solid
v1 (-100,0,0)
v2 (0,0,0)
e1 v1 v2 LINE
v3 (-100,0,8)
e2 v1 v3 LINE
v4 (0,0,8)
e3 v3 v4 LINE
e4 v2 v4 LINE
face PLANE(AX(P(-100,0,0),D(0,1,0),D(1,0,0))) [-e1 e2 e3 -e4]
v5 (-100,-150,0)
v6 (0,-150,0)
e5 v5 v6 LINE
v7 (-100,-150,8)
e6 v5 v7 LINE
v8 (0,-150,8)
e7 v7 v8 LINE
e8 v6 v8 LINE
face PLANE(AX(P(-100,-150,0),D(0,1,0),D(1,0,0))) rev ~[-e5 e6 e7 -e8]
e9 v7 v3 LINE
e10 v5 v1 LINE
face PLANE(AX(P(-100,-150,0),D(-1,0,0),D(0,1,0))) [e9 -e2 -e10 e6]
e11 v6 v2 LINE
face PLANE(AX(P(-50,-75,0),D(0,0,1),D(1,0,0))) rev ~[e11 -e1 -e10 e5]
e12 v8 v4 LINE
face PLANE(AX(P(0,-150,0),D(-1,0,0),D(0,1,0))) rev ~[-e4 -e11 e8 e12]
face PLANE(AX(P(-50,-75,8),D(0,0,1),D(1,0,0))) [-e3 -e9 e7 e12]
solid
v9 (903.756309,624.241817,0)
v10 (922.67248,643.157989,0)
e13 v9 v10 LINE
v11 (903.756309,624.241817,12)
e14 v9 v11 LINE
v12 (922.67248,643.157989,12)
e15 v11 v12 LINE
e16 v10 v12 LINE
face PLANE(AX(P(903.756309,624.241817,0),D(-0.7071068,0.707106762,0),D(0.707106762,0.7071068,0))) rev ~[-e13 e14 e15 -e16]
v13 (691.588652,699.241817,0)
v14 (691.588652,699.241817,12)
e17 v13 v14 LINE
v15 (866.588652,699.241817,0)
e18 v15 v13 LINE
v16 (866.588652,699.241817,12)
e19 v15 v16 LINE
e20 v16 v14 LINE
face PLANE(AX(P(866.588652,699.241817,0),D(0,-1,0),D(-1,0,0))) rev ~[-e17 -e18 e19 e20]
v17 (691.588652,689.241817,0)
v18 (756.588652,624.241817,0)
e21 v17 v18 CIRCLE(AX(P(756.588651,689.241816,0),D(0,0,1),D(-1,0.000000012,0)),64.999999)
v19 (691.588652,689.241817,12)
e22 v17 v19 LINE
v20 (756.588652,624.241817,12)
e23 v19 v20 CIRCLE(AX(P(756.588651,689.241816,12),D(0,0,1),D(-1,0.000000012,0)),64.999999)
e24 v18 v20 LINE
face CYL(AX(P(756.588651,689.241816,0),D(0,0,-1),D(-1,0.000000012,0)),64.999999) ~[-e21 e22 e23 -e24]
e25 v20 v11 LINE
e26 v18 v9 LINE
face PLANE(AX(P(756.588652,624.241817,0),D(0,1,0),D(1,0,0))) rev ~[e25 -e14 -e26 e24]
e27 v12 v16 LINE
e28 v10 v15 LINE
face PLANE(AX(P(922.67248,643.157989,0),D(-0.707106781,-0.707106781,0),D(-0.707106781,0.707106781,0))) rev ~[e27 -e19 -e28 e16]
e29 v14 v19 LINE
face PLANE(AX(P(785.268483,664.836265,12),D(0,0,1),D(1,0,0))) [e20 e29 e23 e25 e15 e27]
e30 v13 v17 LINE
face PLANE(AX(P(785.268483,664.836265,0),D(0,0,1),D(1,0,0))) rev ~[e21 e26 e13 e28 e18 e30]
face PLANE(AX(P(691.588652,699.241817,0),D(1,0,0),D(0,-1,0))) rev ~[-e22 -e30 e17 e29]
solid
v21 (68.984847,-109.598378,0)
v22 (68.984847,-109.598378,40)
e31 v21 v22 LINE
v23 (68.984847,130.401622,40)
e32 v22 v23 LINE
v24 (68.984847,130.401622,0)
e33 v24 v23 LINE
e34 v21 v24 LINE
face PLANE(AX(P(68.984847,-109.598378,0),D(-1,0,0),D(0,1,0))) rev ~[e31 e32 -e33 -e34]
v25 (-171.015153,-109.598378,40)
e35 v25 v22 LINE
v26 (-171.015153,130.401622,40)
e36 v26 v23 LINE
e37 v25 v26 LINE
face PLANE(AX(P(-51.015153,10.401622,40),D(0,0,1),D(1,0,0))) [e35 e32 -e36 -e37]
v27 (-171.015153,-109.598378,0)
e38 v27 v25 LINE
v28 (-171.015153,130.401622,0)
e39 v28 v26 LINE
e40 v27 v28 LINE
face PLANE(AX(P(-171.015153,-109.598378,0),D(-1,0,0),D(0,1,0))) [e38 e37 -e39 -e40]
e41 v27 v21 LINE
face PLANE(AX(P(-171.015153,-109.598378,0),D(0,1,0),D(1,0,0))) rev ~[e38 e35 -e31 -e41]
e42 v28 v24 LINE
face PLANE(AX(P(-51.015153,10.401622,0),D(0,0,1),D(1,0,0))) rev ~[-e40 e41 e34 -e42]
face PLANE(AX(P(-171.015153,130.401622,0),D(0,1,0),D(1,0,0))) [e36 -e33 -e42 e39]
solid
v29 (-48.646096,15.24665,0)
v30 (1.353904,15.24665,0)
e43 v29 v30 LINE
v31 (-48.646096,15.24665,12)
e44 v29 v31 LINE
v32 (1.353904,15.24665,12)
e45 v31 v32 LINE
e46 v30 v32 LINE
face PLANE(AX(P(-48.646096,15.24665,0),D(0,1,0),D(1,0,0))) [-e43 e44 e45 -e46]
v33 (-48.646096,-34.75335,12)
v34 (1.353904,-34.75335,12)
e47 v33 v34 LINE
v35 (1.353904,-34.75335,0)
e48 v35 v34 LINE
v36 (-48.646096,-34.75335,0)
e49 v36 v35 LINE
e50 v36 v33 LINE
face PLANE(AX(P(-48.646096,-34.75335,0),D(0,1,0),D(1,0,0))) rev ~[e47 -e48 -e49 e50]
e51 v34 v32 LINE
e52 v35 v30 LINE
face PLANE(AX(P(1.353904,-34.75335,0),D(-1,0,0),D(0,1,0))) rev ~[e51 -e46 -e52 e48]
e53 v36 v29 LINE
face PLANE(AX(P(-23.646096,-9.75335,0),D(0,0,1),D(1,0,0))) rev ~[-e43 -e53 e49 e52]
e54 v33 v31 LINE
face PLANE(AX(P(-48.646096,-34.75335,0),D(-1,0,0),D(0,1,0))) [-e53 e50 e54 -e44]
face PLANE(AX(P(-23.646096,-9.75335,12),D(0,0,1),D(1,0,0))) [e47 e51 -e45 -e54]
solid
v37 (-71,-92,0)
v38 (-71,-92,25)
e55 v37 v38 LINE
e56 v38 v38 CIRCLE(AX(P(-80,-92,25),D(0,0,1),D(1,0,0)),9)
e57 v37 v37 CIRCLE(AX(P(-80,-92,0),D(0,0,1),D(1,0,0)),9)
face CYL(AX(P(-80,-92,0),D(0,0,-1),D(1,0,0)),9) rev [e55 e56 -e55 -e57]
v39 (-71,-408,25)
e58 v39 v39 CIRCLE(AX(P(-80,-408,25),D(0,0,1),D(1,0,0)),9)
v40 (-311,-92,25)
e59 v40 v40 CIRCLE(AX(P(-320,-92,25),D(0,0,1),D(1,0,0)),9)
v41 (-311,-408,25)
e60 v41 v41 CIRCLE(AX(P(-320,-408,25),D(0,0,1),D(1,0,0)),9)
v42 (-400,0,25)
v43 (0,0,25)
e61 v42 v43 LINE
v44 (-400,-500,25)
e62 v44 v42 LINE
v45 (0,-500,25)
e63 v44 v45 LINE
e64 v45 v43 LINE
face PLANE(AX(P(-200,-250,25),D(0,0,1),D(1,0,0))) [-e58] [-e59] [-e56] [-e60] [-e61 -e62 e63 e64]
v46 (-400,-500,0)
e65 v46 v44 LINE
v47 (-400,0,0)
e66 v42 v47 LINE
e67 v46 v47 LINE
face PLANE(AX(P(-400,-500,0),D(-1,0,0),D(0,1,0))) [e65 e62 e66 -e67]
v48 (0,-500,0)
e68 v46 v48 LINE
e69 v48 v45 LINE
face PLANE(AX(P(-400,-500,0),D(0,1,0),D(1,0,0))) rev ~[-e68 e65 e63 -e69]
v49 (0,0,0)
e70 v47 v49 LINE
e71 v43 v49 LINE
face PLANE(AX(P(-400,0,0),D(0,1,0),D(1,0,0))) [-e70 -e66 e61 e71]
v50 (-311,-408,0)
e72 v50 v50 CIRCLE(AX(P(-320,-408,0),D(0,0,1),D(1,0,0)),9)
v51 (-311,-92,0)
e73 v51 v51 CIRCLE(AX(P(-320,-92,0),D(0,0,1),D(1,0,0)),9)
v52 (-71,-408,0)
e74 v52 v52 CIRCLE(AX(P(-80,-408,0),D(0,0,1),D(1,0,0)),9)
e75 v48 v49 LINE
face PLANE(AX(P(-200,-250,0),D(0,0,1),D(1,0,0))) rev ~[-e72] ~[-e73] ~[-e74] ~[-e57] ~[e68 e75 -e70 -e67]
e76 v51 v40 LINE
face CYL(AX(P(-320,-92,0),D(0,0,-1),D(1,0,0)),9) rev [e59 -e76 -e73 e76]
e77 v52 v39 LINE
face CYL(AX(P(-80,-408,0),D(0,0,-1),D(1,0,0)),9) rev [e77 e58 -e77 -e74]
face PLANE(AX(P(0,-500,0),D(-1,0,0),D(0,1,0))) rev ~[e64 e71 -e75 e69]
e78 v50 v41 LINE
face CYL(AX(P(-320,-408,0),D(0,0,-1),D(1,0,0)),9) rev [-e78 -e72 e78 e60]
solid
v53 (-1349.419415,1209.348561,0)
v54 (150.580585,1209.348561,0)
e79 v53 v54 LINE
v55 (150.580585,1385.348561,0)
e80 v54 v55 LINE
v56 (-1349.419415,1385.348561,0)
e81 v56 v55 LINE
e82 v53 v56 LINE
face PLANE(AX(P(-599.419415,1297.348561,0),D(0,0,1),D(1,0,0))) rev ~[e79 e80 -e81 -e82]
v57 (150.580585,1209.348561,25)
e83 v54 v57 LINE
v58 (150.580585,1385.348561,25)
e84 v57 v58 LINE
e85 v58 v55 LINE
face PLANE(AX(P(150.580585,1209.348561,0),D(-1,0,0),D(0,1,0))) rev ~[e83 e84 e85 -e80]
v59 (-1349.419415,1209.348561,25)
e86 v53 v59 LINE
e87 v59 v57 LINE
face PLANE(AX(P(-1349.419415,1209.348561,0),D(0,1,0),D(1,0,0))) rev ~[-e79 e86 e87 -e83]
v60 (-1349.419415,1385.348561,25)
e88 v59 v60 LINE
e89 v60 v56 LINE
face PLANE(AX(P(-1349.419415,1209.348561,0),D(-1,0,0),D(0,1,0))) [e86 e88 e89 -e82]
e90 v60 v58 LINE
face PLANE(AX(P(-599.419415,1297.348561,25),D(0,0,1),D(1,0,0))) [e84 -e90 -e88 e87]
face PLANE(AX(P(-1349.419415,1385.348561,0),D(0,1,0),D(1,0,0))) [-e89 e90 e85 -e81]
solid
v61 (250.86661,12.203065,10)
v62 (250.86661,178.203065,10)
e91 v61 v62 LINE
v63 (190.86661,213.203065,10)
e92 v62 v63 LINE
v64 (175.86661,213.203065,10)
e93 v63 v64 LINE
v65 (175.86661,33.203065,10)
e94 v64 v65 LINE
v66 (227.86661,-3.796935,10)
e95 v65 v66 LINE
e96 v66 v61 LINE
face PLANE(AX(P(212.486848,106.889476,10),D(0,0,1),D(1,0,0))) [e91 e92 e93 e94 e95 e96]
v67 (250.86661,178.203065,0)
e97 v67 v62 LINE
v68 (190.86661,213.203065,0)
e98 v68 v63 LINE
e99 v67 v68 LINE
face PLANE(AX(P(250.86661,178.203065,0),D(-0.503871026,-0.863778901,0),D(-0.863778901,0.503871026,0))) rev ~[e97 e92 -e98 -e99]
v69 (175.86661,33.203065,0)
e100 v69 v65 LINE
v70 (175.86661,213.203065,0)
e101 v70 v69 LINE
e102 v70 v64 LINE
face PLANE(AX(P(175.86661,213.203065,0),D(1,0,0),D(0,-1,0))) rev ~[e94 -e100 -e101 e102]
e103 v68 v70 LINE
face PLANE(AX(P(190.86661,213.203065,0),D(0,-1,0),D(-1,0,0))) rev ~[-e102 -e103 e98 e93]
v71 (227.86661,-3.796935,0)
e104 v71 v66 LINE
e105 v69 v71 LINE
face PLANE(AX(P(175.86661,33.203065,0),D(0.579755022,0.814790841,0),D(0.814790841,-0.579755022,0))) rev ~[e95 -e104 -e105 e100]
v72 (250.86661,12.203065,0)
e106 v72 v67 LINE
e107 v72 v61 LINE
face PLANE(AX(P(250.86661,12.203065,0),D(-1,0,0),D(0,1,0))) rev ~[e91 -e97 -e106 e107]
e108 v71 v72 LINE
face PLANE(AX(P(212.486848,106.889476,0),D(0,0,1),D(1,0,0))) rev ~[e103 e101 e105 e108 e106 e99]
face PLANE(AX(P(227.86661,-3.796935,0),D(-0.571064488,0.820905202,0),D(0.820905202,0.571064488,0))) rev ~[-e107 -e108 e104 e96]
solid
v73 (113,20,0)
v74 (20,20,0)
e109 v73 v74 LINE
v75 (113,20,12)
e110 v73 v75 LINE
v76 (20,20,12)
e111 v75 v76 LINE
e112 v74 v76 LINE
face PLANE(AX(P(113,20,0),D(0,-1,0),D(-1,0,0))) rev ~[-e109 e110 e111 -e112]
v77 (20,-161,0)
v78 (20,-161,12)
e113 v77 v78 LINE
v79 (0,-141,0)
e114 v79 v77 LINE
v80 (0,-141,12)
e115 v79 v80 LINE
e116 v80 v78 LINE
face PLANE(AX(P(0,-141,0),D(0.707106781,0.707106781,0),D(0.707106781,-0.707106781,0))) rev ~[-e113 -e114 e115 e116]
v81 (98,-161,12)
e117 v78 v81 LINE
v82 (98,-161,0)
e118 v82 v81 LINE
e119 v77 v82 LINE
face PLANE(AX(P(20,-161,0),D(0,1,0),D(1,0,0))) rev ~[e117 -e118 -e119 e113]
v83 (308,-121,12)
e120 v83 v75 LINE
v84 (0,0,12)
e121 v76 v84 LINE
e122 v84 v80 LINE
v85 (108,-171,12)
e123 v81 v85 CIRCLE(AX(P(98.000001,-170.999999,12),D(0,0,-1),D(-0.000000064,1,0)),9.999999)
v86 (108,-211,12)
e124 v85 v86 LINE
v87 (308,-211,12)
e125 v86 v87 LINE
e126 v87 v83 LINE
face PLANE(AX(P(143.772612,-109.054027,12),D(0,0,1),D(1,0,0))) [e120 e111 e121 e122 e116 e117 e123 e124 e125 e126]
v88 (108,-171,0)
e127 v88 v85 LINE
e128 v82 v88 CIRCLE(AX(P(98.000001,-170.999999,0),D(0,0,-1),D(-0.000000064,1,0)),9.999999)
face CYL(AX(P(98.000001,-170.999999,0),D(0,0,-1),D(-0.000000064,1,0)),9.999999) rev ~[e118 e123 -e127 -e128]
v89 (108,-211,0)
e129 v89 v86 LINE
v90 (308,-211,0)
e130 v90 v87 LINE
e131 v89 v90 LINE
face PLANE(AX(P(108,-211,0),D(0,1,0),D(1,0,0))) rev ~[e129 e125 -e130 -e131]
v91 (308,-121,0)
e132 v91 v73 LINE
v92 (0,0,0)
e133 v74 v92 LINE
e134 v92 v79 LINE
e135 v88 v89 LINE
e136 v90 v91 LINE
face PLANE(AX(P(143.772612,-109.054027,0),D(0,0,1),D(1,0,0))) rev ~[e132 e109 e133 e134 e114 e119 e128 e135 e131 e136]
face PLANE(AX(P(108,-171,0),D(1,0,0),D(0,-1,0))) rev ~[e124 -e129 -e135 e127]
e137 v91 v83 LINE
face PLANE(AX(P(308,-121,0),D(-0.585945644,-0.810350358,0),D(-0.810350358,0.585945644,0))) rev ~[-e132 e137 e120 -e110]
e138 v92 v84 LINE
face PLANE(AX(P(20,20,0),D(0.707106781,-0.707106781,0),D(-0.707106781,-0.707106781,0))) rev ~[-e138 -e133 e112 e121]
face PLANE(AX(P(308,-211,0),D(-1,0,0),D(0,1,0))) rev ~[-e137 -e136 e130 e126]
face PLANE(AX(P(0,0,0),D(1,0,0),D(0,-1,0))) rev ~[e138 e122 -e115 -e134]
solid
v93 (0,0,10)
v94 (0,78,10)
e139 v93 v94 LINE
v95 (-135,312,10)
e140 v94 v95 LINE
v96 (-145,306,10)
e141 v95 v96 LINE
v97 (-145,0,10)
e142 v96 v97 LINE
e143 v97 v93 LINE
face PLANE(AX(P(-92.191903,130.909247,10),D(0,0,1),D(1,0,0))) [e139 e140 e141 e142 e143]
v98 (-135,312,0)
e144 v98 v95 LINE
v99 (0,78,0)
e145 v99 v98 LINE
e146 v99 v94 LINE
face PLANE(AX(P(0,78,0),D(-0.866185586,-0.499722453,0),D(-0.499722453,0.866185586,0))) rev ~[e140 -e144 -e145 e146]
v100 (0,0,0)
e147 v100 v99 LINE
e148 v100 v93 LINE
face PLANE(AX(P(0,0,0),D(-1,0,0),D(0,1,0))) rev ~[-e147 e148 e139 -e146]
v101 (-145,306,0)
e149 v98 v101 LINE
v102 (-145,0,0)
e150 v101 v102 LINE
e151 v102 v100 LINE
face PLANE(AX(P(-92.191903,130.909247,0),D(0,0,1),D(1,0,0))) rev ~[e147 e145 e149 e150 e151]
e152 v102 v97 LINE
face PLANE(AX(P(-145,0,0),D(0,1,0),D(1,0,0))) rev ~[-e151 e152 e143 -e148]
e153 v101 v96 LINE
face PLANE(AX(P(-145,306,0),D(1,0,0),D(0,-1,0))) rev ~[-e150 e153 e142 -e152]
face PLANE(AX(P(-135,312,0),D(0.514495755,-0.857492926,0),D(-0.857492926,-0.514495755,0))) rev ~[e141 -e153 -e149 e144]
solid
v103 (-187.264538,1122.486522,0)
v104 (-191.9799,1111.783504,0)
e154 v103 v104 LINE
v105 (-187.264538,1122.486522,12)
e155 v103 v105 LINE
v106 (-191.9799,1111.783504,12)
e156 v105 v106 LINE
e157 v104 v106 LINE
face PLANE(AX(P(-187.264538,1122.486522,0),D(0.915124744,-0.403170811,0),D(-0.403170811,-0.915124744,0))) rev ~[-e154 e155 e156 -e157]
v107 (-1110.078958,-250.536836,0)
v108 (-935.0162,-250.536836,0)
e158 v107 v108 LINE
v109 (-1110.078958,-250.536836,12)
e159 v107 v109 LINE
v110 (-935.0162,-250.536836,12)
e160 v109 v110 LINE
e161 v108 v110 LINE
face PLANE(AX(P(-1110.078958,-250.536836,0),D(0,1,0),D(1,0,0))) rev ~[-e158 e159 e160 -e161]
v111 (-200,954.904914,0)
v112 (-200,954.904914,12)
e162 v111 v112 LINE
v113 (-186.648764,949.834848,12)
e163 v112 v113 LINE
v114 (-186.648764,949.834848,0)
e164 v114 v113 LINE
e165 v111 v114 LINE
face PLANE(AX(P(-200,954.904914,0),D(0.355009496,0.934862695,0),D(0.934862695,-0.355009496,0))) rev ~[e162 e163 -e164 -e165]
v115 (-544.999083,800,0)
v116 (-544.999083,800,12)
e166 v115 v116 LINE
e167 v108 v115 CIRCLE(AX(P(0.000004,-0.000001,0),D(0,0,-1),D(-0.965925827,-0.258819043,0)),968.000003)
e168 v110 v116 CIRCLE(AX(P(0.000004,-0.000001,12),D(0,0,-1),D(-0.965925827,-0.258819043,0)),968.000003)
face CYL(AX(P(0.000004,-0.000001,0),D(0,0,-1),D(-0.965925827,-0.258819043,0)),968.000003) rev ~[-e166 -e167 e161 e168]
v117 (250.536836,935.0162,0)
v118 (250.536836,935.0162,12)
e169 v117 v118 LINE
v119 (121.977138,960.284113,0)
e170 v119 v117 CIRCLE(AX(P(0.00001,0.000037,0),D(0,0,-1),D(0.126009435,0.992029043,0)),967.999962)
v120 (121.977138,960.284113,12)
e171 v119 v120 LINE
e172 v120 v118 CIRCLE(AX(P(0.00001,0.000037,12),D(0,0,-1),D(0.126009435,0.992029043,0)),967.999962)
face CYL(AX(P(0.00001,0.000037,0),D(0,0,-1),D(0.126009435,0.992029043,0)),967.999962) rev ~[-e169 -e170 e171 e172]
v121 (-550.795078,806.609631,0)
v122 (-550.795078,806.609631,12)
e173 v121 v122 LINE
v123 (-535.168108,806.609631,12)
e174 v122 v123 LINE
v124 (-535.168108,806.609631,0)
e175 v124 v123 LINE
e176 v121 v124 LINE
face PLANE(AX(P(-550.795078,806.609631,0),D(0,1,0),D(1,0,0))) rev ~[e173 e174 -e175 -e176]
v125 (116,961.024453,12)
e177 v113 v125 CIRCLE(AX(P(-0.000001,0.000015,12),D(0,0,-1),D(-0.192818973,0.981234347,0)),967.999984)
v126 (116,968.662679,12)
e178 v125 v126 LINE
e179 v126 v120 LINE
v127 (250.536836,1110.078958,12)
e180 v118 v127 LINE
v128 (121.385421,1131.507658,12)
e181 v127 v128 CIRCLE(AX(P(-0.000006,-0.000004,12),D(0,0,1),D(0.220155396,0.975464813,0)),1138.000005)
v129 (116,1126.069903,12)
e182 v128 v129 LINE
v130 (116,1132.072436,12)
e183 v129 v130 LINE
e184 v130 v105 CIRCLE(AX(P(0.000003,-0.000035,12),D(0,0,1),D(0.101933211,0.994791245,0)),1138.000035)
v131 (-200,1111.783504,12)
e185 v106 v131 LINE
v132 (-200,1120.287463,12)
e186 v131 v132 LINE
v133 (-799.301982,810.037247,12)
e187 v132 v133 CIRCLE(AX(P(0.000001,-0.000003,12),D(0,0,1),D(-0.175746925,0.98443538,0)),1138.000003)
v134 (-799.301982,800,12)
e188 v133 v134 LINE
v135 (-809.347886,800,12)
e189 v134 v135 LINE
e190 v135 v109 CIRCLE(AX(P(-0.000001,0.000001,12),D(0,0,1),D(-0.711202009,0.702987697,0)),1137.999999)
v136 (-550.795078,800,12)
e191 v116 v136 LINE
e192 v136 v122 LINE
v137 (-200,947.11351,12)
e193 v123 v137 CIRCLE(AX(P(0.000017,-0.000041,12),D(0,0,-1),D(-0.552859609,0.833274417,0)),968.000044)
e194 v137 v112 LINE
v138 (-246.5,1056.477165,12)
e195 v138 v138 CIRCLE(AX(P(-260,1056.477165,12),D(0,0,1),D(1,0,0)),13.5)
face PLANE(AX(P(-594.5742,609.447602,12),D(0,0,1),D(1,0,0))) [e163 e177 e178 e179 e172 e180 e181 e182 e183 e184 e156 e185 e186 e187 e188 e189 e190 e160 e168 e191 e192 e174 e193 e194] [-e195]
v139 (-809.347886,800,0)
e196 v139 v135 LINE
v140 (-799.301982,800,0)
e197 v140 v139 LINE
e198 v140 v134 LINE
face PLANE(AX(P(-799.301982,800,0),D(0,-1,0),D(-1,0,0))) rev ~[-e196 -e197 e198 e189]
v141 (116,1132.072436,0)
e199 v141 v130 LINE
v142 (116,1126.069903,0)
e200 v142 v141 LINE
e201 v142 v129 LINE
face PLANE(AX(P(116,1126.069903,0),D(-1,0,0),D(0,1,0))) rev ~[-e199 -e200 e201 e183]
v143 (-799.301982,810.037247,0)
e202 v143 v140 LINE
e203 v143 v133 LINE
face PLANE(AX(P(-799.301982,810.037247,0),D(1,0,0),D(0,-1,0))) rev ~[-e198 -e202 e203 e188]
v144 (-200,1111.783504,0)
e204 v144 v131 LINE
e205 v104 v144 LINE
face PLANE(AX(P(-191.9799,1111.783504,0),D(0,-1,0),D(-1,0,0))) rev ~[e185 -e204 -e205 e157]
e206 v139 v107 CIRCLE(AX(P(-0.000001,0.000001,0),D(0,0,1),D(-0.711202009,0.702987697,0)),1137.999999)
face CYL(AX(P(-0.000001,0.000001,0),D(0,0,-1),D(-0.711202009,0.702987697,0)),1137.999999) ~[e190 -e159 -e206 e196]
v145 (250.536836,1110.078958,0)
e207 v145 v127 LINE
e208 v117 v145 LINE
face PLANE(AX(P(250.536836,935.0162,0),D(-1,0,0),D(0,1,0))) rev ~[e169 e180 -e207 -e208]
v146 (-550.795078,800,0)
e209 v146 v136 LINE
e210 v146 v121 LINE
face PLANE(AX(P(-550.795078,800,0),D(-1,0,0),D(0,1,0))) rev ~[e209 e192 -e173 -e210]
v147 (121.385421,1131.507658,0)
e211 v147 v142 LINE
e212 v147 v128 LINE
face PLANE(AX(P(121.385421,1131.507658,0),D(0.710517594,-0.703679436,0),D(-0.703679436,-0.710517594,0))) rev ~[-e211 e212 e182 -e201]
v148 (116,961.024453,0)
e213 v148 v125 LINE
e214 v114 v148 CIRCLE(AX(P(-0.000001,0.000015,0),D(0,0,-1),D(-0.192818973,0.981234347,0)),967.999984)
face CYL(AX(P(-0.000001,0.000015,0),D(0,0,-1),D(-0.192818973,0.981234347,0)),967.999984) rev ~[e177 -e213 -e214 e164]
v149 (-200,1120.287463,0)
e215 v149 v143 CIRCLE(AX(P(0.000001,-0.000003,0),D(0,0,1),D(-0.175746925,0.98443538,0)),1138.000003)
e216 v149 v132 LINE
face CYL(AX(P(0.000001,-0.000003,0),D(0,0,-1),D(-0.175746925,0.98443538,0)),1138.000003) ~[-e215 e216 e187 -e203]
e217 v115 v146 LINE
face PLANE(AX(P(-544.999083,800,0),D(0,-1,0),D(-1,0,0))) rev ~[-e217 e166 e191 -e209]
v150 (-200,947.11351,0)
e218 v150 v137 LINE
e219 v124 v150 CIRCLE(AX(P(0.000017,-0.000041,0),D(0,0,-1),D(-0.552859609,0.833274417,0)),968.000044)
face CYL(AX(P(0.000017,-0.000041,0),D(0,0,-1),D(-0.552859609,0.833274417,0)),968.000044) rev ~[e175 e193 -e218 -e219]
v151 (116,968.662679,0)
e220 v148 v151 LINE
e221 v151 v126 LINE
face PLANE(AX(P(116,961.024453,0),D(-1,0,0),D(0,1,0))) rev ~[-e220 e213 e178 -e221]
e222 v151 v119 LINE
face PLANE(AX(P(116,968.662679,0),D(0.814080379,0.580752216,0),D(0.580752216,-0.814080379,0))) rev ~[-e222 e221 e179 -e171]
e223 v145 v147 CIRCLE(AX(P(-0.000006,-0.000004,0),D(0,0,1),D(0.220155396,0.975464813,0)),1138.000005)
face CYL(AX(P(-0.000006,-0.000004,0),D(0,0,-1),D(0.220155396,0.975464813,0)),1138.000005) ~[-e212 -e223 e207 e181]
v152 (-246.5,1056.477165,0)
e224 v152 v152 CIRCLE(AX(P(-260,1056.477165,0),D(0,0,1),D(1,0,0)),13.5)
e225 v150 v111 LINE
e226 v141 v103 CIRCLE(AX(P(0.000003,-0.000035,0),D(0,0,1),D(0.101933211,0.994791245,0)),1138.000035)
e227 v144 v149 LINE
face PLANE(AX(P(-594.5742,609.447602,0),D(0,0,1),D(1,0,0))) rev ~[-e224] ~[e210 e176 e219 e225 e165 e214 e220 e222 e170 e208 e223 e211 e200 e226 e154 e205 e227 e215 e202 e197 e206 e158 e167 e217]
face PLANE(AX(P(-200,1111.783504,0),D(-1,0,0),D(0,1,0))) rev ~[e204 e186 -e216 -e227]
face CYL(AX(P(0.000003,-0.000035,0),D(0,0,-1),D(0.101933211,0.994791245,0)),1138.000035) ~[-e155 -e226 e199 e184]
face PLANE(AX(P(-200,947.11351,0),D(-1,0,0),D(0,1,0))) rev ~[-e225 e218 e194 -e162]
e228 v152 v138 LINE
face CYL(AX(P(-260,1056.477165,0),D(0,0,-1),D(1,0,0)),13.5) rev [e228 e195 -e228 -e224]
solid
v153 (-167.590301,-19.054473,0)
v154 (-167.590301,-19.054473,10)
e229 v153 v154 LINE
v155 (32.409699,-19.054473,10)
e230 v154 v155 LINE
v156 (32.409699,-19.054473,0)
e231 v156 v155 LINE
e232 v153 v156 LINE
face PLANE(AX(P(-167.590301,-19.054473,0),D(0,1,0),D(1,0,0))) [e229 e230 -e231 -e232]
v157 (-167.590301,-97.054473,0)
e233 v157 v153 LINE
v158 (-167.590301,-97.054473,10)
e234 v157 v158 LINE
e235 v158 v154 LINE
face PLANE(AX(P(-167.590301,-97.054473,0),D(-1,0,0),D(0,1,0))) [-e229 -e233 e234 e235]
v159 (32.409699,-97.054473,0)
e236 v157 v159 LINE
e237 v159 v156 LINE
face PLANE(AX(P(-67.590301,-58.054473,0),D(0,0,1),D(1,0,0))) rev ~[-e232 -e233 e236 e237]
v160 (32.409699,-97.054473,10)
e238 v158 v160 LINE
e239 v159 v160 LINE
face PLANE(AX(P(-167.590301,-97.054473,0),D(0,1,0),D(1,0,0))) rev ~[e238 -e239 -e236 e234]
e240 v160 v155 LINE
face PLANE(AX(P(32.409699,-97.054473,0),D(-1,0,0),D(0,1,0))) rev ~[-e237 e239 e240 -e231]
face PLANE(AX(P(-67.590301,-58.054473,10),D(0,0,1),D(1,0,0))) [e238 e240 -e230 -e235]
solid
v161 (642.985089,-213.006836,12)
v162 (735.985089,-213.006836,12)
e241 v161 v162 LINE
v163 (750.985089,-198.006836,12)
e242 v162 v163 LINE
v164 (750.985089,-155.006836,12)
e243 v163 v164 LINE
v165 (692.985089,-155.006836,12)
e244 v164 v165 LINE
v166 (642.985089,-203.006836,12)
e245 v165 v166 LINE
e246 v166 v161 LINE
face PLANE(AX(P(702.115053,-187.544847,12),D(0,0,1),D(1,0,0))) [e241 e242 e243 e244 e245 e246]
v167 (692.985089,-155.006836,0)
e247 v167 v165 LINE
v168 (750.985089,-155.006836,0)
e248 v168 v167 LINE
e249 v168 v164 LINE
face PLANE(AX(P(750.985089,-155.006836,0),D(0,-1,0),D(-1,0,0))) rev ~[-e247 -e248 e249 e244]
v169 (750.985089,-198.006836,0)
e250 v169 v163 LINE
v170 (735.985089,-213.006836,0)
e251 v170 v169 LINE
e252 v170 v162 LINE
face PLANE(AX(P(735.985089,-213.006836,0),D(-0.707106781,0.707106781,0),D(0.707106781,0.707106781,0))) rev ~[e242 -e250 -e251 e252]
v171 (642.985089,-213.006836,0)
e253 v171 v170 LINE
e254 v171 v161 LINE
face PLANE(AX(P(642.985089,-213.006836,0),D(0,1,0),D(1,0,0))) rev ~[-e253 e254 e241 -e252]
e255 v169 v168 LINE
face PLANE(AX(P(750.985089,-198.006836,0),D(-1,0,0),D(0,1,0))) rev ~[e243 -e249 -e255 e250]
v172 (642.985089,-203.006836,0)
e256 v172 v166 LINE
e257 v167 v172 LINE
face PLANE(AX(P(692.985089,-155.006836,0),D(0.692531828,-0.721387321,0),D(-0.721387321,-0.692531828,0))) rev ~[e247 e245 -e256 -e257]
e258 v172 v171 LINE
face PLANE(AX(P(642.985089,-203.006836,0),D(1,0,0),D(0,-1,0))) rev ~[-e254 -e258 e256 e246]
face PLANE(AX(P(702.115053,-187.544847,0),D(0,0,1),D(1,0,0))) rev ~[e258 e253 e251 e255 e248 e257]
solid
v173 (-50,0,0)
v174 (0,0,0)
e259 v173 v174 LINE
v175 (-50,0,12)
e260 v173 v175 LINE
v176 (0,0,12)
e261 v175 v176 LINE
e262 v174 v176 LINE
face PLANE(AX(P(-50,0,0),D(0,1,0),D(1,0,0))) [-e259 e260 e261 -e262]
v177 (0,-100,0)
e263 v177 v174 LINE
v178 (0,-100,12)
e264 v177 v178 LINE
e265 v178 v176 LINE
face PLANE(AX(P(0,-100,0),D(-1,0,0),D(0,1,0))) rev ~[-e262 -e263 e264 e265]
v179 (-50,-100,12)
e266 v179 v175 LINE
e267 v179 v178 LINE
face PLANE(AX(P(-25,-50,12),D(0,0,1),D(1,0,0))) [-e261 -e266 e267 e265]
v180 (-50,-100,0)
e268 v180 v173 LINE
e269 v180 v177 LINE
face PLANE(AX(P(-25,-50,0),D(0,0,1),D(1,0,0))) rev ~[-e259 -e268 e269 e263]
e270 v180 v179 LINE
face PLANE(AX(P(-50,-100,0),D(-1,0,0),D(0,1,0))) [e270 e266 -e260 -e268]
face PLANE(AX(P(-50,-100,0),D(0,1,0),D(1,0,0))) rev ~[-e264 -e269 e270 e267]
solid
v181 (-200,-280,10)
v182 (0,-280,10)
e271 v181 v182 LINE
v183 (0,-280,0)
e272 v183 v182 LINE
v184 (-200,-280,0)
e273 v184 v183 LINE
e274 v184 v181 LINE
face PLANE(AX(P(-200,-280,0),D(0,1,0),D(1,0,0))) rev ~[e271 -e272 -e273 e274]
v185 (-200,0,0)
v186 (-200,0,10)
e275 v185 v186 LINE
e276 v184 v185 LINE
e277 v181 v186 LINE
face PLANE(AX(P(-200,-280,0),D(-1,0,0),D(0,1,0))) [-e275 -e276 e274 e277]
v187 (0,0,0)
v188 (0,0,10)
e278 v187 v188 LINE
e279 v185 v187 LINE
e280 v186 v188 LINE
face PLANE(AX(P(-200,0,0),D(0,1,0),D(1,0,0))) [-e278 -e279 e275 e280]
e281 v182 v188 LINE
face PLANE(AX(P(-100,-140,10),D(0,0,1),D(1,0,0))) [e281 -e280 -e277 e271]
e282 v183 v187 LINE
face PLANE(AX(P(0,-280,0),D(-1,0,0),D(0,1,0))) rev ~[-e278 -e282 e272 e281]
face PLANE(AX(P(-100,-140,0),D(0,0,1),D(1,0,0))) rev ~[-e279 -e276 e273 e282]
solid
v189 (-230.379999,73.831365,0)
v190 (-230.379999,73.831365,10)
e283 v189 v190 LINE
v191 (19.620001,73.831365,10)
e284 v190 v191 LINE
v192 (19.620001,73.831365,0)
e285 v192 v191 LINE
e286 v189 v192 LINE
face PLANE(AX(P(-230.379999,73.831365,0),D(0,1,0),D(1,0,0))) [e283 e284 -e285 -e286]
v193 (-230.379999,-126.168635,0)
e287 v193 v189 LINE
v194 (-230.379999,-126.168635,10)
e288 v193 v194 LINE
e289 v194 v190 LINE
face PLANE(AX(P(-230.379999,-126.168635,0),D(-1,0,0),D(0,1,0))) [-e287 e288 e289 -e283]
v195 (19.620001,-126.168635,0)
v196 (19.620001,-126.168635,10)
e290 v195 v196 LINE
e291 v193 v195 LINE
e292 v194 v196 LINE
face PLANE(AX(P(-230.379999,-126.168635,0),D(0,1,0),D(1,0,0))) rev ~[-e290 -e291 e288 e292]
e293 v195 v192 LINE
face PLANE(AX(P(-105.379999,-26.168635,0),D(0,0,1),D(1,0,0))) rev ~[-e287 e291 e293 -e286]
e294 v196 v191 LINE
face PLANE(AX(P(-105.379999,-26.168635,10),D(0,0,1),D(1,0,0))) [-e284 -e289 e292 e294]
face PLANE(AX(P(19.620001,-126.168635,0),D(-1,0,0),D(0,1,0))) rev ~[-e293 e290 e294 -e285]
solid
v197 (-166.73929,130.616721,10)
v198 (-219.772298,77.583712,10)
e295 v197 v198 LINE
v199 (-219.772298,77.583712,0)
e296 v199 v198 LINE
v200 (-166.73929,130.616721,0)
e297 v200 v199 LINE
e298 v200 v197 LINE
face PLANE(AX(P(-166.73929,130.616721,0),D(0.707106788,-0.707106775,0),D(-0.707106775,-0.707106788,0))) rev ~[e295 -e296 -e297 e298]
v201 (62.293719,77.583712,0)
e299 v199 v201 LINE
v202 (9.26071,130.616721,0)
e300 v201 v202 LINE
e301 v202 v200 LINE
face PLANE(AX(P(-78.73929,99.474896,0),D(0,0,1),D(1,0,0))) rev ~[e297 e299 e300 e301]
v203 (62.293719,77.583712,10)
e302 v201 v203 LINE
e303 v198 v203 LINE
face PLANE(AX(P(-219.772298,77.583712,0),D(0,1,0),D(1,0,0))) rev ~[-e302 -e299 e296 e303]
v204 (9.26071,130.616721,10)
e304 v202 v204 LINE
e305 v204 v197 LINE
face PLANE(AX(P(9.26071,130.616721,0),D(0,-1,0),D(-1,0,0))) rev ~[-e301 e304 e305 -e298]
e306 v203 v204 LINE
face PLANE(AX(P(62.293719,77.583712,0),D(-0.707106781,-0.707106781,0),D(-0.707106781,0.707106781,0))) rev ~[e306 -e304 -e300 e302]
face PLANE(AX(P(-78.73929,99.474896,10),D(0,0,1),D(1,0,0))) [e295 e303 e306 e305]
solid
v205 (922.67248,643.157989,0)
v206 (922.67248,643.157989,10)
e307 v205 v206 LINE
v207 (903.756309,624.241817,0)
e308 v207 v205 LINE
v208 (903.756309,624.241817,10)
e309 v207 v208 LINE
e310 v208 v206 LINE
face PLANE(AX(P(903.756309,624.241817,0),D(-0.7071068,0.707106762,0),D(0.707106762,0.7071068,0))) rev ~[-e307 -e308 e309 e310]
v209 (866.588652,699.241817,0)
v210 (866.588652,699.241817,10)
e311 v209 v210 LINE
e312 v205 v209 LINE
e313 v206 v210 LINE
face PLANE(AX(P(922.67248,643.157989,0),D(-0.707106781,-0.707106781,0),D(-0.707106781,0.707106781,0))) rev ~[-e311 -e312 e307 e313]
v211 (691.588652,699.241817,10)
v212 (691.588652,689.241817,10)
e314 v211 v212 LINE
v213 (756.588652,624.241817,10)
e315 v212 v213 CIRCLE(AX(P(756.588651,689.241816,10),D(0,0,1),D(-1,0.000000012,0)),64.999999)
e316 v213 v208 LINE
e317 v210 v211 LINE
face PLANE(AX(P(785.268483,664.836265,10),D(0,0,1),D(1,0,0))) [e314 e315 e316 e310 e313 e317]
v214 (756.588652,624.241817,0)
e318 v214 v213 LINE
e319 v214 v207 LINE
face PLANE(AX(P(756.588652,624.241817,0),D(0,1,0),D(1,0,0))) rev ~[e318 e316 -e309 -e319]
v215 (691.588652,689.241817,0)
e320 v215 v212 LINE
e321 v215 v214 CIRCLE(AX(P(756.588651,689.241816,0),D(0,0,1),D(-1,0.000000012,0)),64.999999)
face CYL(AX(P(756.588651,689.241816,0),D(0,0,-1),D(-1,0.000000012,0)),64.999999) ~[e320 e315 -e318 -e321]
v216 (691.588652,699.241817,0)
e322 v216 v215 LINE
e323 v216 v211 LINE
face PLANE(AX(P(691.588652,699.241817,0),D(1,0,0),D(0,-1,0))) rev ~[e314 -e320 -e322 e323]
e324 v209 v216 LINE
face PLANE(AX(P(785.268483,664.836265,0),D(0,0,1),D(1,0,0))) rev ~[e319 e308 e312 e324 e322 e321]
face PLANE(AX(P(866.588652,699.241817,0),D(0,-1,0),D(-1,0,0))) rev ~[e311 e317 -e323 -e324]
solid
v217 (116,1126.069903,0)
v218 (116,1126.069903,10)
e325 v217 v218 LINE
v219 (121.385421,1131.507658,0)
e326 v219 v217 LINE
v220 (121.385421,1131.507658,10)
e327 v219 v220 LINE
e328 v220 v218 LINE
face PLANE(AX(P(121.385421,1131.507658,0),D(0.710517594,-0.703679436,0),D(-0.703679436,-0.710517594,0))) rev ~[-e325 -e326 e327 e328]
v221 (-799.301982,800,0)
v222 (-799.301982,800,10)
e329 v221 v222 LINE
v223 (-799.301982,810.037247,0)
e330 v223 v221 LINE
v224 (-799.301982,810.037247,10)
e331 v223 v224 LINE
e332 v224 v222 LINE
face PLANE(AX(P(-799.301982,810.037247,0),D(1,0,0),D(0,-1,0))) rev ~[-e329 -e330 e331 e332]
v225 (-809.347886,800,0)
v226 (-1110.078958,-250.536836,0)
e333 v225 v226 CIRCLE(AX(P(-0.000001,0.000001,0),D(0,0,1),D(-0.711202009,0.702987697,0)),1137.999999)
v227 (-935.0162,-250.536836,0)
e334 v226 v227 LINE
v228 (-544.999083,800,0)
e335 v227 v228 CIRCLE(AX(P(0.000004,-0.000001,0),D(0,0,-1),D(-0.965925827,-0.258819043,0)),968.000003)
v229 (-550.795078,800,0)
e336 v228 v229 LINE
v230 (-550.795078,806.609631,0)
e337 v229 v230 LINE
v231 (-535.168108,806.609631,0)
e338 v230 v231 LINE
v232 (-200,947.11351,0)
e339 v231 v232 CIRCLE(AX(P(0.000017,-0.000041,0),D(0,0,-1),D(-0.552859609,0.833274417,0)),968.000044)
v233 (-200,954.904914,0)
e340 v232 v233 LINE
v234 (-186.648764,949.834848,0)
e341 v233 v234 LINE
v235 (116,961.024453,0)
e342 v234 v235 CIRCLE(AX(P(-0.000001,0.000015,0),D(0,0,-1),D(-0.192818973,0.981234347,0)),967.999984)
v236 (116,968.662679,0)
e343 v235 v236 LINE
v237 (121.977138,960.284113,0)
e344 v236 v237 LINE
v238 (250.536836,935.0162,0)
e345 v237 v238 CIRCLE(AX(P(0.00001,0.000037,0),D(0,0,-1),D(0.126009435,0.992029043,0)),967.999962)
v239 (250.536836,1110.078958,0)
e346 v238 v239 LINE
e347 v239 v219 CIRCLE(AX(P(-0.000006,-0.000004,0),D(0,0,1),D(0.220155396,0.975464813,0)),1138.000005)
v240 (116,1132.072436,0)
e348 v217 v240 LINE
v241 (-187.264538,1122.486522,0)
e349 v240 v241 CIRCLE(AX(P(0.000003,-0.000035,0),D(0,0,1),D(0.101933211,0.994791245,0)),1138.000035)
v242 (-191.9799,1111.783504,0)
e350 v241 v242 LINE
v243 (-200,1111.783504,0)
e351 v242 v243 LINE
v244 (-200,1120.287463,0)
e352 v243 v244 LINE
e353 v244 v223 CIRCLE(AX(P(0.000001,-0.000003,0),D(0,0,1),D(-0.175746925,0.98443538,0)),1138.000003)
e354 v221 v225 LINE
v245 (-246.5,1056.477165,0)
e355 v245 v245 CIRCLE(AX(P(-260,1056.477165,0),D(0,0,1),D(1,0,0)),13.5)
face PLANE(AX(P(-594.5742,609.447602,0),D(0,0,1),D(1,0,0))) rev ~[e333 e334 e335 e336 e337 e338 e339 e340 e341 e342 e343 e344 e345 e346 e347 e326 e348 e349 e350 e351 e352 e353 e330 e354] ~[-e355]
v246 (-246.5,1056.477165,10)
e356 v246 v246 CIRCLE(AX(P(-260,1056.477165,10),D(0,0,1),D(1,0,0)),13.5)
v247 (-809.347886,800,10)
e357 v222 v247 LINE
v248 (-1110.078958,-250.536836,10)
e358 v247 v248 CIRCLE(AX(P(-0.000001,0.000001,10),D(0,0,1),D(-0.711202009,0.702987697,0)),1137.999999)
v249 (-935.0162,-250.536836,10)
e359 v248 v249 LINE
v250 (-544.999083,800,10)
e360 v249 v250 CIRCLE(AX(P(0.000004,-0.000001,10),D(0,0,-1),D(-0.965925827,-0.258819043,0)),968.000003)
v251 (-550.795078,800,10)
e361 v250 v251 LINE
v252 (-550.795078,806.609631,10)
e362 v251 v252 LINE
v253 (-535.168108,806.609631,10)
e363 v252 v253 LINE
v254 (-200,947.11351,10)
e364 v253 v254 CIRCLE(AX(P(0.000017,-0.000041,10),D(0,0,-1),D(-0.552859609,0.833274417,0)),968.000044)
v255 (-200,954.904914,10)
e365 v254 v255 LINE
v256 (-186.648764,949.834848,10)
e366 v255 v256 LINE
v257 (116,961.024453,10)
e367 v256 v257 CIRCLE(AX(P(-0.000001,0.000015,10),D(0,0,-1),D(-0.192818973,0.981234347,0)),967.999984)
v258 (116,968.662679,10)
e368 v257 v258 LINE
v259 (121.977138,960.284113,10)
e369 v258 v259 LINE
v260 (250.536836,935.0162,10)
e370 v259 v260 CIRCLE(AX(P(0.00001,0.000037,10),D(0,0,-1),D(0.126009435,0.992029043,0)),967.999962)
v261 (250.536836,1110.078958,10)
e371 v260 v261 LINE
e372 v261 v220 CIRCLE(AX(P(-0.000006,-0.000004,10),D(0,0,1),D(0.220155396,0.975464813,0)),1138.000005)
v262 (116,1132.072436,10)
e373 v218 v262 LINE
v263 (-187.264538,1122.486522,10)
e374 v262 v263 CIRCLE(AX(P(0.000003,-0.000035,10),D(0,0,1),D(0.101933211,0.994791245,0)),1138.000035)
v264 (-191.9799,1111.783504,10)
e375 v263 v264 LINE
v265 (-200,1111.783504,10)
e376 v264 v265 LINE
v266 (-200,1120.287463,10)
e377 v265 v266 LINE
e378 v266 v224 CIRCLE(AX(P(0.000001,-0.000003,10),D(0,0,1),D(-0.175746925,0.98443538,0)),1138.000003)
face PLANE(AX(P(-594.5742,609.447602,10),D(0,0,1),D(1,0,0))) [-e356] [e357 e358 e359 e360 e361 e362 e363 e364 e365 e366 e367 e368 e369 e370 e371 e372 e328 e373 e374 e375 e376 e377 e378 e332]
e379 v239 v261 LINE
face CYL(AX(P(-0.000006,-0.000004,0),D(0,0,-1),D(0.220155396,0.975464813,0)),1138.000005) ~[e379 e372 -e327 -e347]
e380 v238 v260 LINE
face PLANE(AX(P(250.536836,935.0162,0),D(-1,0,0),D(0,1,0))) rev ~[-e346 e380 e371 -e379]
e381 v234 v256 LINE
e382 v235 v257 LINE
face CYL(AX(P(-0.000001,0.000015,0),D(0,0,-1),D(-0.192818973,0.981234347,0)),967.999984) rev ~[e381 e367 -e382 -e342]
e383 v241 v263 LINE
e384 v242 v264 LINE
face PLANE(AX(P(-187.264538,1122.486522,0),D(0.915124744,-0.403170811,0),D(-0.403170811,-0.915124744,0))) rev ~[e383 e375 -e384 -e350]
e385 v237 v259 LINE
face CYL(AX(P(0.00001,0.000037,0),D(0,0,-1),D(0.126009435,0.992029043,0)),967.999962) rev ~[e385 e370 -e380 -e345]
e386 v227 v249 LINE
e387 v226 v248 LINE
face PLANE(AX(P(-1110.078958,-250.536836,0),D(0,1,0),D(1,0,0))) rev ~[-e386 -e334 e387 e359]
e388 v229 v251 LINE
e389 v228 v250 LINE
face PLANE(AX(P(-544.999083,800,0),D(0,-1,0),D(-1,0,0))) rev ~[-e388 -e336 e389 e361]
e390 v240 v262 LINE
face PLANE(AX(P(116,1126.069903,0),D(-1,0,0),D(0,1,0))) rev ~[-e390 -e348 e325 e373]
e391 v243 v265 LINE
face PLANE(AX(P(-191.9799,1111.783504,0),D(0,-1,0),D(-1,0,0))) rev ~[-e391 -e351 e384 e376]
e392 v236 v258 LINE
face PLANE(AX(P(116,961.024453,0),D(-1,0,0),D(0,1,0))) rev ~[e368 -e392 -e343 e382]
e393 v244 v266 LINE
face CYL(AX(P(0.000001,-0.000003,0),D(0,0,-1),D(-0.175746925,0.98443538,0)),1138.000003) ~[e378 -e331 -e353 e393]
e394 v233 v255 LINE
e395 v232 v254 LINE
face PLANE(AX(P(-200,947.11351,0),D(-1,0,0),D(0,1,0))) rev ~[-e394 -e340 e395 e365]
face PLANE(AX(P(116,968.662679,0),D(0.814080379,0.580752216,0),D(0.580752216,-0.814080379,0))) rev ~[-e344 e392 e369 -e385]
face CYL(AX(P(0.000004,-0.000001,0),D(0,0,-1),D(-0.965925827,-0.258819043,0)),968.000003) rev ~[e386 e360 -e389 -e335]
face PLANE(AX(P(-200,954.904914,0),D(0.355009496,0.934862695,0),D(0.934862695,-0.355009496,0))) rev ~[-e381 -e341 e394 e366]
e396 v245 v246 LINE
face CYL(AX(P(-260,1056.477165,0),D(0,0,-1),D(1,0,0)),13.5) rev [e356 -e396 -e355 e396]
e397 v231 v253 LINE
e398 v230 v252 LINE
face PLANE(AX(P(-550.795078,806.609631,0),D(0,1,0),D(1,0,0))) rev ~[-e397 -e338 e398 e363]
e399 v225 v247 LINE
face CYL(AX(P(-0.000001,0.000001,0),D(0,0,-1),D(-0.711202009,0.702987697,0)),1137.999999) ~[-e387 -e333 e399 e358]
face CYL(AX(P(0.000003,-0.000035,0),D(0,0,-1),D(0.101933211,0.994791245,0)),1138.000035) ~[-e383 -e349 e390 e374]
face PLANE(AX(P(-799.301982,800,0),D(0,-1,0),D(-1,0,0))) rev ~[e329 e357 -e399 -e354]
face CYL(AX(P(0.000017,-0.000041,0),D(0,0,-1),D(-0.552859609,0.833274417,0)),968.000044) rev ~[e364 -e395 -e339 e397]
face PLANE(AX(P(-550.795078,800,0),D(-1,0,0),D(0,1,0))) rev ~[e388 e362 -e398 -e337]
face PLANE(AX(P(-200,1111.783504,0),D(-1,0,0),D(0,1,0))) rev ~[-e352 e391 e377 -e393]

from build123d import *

# Parameters (mm, degrees)
F0_R      = 13.5
F1_DEPTH  = 12
F3_DEPTH  = 10
F5_DEPTH  = 10
F6_DEPTH  = 10
F7_W      = 1500
F7_H      = 176
F8_DEPTH  = 12
F9_DEPTH  = 25
F11_DEPTH = 12
F12_W     = 400
F12_H     = 500
F12_R     = 9
F13_DEPTH = 16
F14_DEPTH = 25
F16_DEPTH = 12
F17_W     = 100
F17_H     = 150
F18_DEPTH = 8
F19_W     = 50
F19_H     = 100
F20_DEPTH = 12
F21_W     = 50
F21_H     = 50
F22_DEPTH = 12
F23_W     = 240
F23_H     = 240
F24_DEPTH = 40
F26_DEPTH = 10
F27_W     = 200
F27_H     = 280
F28_DEPTH = 10
F29_W     = 200
F29_H     = 78
F30_DEPTH = 10
F31_W     = 250
F31_H     = 200
F32_DEPTH = 10


with BuildPart() as f1:
    # F0 (on Top) → F1 (new body)
    with BuildSketch(Plane.XY):
        with BuildLine():
            ThreePointArc((121.977138, 960.284113), (186.68498, 949.827731), (250.536836, 935.0162))
            Line((250.536836, 935.0162), (250.536836, 1110.078958))
            ThreePointArc((250.536836, 1110.078958), (186.269532, 1122.652066), (121.385421, 1131.507658))
            Line((121.385421, 1131.507658), (116, 1126.069903))
            Line((116, 1126.069903), (116, 1132.072436))
            ThreePointArc((116, 1132.072436), (-35.953178, 1137.431918), (-187.264538, 1122.486522))
            Line((-187.264538, 1122.486522), (-191.9799, 1111.783504))
            Line((-191.9799, 1111.783504), (-200, 1111.783504))
            Line((-200, 1111.783504), (-200, 1120.287463))
            ThreePointArc((-200, 1120.287463), (-523.177706, 1010.608276), (-799.301982, 810.037247))
            Line((-799.301982, 810.037247), (-799.301982, 800))
            Line((-799.301982, 800), (-809.347886, 800))
            ThreePointArc((-809.347886, 800), (-1094.055192, 313.18882), (-1110.078958, -250.536836))
            Line((-1110.078958, -250.536836), (-935.0162, -250.536836))
            ThreePointArc((-935.0162, -250.536836), (-907.479046, 336.906189), (-544.999083, 800))
            Line((-544.999083, 800), (-550.795078, 800))
            Line((-550.795078, 800), (-550.795078, 806.609631))
            Line((-550.795078, 806.609631), (-535.168108, 806.609631))
            ThreePointArc((-535.168108, 806.609631), (-374.237053, 892.732114), (-200, 947.11351))
            Line((-200, 947.11351), (-200, 954.904914))
            Line((-200, 954.904914), (-186.648764, 949.834848))
            ThreePointArc((-186.648764, 949.834848), (-35.7647, 967.339075), (116, 961.024453))
            Line((116, 961.024453), (116, 968.662679))
            Line((116, 968.662679), (121.977138, 960.284113))
        make_face()
        with Locations((-260, 1056.477165)):
            Circle(F0_R, mode=Mode.SUBTRACT)
        with BuildLine():
            Line((866.588652, 699.241817), (691.588652, 699.241817))
            Line((691.588652, 699.241817), (691.588652, 689.241817))
            ThreePointArc((691.588652, 689.241817), (710.626711, 643.279876), (756.588652, 624.241817))
            Line((756.588652, 624.241817), (866.588652, 624.241817))
            Line((866.588652, 624.241817), (866.588652, 699.241817))
        make_face()
        Polygon((922.67248, 643.157989), (866.588652, 699.241817), (866.588652, 624.241817), (903.756309, 624.241817), align=None)
    extrude(amount=F1_DEPTH)


with BuildPart() as f3:
    # F2 (on Top) → F3 (new body)
    with BuildSketch(Plane.XY):
        Polygon((190.86661, 213.203065), (175.86661, 213.203065), (175.86661, 33.203065), (227.86661, -3.796935), (250.86661, 12.203065), (250.86661, 178.203065), align=None)
    extrude(amount=F3_DEPTH)


with BuildPart() as f5:
    # F4 (on Top) → F5 (new body)
    with BuildSketch(Plane.XY):
        Polygon((9.26071, 130.616721), (-166.73929, 130.616721), (-219.772298, 77.583712), (62.293719, 77.583712), align=None)
    extrude(amount=F5_DEPTH)


with BuildPart() as f6:
    # F0 (on Top) → F6 (new body)
    with BuildSketch(Plane.XY):
        with BuildLine():
            ThreePointArc((121.977138, 960.284113), (186.68498, 949.827731), (250.536836, 935.0162))
            Line((250.536836, 935.0162), (250.536836, 1110.078958))
            ThreePointArc((250.536836, 1110.078958), (186.269532, 1122.652066), (121.385421, 1131.507658))
            Line((121.385421, 1131.507658), (116, 1126.069903))
            Line((116, 1126.069903), (116, 1132.072436))
            ThreePointArc((116, 1132.072436), (-35.953178, 1137.431918), (-187.264538, 1122.486522))
            Line((-187.264538, 1122.486522), (-191.9799, 1111.783504))
            Line((-191.9799, 1111.783504), (-200, 1111.783504))
            Line((-200, 1111.783504), (-200, 1120.287463))
            ThreePointArc((-200, 1120.287463), (-523.177706, 1010.608276), (-799.301982, 810.037247))
            Line((-799.301982, 810.037247), (-799.301982, 800))
            Line((-799.301982, 800), (-809.347886, 800))
            ThreePointArc((-809.347886, 800), (-1094.055192, 313.18882), (-1110.078958, -250.536836))
            Line((-1110.078958, -250.536836), (-935.0162, -250.536836))
            ThreePointArc((-935.0162, -250.536836), (-907.479046, 336.906189), (-544.999083, 800))
            Line((-544.999083, 800), (-550.795078, 800))
            Line((-550.795078, 800), (-550.795078, 806.609631))
            Line((-550.795078, 806.609631), (-535.168108, 806.609631))
            ThreePointArc((-535.168108, 806.609631), (-374.237053, 892.732114), (-200, 947.11351))
            Line((-200, 947.11351), (-200, 954.904914))
            Line((-200, 954.904914), (-186.648764, 949.834848))
            ThreePointArc((-186.648764, 949.834848), (-35.7647, 967.339075), (116, 961.024453))
            Line((116, 961.024453), (116, 968.662679))
            Line((116, 968.662679), (121.977138, 960.284113))
        make_face()
        with Locations((-260, 1056.477165)):
            Circle(F0_R, mode=Mode.SUBTRACT)
        with BuildLine():
            Line((866.588652, 699.241817), (691.588652, 699.241817))
            Line((691.588652, 699.241817), (691.588652, 689.241817))
            ThreePointArc((691.588652, 689.241817), (710.626711, 643.279876), (756.588652, 624.241817))
            Line((756.588652, 624.241817), (866.588652, 624.241817))
            Line((866.588652, 624.241817), (866.588652, 699.241817))
        make_face()
        Polygon((922.67248, 643.157989), (866.588652, 699.241817), (866.588652, 624.241817), (903.756309, 624.241817), align=None)
    extrude(amount=F6_DEPTH)


with BuildPart() as f8:
    # F7 (on Top) → F8 (new body)
    with BuildSketch(Plane.XY):
        with Locations((-599.419415, 1297.348561)):
            Rectangle(F7_W, F7_H)
    extrude(amount=F8_DEPTH)

    # F7 (on Top) → F9 (join)
    with BuildSketch(Plane.XY):
        with Locations((-599.419415, 1297.348561)):
            Rectangle(F7_W, F7_H)
    extrude(amount=F9_DEPTH)


with BuildPart() as f11:
    # F10 (on Top) → F11 (new body)
    with BuildSketch(Plane.XY):
        Polygon((750.985089, -198.006836), (750.985089, -155.006836), (692.985089, -155.006836), (642.985089, -203.006836), (642.985089, -213.006836), (735.985089, -213.006836), align=None)
    extrude(amount=F11_DEPTH)


with BuildPart() as f13:
    # F12 (on Top) → F13 (new body)
    with BuildSketch(Plane.XY):
        with Locations((-200, -250)):
            Rectangle(F12_W, F12_H)
        with Locations((-320, -408)):
            Circle(F12_R, mode=Mode.SUBTRACT)
        with Locations((-80, -408)):
            Circle(F12_R, mode=Mode.SUBTRACT)
        with Locations((-320, -92)):
            Circle(F12_R, mode=Mode.SUBTRACT)
        with Locations((-80, -92)):
            Circle(F12_R, mode=Mode.SUBTRACT)
    extrude(amount=F13_DEPTH)

    # F12 (on Top) → F14 (join)
    with BuildSketch(Plane.XY):
        with Locations((-200, -250)):
            Rectangle(F12_W, F12_H)
        with Locations((-320, -408)):
            Circle(F12_R, mode=Mode.SUBTRACT)
        with Locations((-80, -408)):
            Circle(F12_R, mode=Mode.SUBTRACT)
        with Locations((-320, -92)):
            Circle(F12_R, mode=Mode.SUBTRACT)
        with Locations((-80, -92)):
            Circle(F12_R, mode=Mode.SUBTRACT)
    extrude(amount=F14_DEPTH)


with BuildPart() as f16:
    # F15 (on Top) → F16 (new body)
    with BuildSketch(Plane.XY):
        with BuildLine():
            Line((20, 20), (0, 0))
            Line((0, 0), (0, -141))
            Line((0, -141), (20, -161))
            Line((20, -161), (98, -161))
            ThreePointArc((98, -161), (105.071068, -163.928932), (108, -171))
            Line((108, -171), (108, -211))
            Line((108, -211), (308, -211))
            Line((308, -211), (308, -121))
            Line((308, -121), (113, 20))
            Line((113, 20), (20, 20))
        make_face()
    extrude(amount=F16_DEPTH)


with BuildPart() as f18:
    # F17 (on Top) → F18 (new body)
    with BuildSketch(Plane.XY):
        with Locations((-50, -75)):
            Rectangle(F17_W, F17_H)
    extrude(amount=F18_DEPTH)


with BuildPart() as f20:
    # F19 (on Top) → F20 (new body)
    with BuildSketch(Plane.XY):
        with Locations((-25, -50)):
            Rectangle(F19_W, F19_H)
    extrude(amount=F20_DEPTH)


with BuildPart() as f22:
    # F21 (on Top) → F22 (new body)
    with BuildSketch(Plane.XY):
        with Locations((-23.646096, -9.75335)):
            Rectangle(F21_W, F21_H)
    extrude(amount=F22_DEPTH)


with BuildPart() as f24:
    # F23 (on Top) → F24 (new body)
    with BuildSketch(Plane.XY):
        with Locations((-51.015153, 10.401622)):
            Rectangle(F23_W, F23_H)
    extrude(amount=F24_DEPTH)


with BuildPart() as f26:
    # F25 (on Top) → F26 (new body)
    with BuildSketch(Plane.XY):
        Polygon((-145, 0), (0, 0), (0, 78), (-135, 312), (-145, 306), align=None)
    extrude(amount=F26_DEPTH)


with BuildPart() as f28:
    # F27 (on Top) → F28 (new body)
    with BuildSketch(Plane.XY):
        with Locations((-100, -140)):
            Rectangle(F27_W, F27_H)
    extrude(amount=F28_DEPTH)


with BuildPart() as f30:
    # F29 (on Top) → F30 (new body)
    with BuildSketch(Plane.XY):
        with Locations((-67.590301, -58.054473)):
            Rectangle(F29_W, F29_H)
    extrude(amount=F30_DEPTH)


with BuildPart() as f32:
    # F31 (on Top) → F32 (new body)
    with BuildSketch(Plane.XY):
        with Locations((-105.379999, -26.168635)):
            Rectangle(F31_W, F31_H)
    extrude(amount=F32_DEPTH)


solid = Compound([f1.part, f3.part, f5.part, f6.part, f8.part, f11.part, f13.part, f16.part, f18.part, f20.part, f22.part, f24.part, f26.part, f28.part, f30.part, f32.part])
